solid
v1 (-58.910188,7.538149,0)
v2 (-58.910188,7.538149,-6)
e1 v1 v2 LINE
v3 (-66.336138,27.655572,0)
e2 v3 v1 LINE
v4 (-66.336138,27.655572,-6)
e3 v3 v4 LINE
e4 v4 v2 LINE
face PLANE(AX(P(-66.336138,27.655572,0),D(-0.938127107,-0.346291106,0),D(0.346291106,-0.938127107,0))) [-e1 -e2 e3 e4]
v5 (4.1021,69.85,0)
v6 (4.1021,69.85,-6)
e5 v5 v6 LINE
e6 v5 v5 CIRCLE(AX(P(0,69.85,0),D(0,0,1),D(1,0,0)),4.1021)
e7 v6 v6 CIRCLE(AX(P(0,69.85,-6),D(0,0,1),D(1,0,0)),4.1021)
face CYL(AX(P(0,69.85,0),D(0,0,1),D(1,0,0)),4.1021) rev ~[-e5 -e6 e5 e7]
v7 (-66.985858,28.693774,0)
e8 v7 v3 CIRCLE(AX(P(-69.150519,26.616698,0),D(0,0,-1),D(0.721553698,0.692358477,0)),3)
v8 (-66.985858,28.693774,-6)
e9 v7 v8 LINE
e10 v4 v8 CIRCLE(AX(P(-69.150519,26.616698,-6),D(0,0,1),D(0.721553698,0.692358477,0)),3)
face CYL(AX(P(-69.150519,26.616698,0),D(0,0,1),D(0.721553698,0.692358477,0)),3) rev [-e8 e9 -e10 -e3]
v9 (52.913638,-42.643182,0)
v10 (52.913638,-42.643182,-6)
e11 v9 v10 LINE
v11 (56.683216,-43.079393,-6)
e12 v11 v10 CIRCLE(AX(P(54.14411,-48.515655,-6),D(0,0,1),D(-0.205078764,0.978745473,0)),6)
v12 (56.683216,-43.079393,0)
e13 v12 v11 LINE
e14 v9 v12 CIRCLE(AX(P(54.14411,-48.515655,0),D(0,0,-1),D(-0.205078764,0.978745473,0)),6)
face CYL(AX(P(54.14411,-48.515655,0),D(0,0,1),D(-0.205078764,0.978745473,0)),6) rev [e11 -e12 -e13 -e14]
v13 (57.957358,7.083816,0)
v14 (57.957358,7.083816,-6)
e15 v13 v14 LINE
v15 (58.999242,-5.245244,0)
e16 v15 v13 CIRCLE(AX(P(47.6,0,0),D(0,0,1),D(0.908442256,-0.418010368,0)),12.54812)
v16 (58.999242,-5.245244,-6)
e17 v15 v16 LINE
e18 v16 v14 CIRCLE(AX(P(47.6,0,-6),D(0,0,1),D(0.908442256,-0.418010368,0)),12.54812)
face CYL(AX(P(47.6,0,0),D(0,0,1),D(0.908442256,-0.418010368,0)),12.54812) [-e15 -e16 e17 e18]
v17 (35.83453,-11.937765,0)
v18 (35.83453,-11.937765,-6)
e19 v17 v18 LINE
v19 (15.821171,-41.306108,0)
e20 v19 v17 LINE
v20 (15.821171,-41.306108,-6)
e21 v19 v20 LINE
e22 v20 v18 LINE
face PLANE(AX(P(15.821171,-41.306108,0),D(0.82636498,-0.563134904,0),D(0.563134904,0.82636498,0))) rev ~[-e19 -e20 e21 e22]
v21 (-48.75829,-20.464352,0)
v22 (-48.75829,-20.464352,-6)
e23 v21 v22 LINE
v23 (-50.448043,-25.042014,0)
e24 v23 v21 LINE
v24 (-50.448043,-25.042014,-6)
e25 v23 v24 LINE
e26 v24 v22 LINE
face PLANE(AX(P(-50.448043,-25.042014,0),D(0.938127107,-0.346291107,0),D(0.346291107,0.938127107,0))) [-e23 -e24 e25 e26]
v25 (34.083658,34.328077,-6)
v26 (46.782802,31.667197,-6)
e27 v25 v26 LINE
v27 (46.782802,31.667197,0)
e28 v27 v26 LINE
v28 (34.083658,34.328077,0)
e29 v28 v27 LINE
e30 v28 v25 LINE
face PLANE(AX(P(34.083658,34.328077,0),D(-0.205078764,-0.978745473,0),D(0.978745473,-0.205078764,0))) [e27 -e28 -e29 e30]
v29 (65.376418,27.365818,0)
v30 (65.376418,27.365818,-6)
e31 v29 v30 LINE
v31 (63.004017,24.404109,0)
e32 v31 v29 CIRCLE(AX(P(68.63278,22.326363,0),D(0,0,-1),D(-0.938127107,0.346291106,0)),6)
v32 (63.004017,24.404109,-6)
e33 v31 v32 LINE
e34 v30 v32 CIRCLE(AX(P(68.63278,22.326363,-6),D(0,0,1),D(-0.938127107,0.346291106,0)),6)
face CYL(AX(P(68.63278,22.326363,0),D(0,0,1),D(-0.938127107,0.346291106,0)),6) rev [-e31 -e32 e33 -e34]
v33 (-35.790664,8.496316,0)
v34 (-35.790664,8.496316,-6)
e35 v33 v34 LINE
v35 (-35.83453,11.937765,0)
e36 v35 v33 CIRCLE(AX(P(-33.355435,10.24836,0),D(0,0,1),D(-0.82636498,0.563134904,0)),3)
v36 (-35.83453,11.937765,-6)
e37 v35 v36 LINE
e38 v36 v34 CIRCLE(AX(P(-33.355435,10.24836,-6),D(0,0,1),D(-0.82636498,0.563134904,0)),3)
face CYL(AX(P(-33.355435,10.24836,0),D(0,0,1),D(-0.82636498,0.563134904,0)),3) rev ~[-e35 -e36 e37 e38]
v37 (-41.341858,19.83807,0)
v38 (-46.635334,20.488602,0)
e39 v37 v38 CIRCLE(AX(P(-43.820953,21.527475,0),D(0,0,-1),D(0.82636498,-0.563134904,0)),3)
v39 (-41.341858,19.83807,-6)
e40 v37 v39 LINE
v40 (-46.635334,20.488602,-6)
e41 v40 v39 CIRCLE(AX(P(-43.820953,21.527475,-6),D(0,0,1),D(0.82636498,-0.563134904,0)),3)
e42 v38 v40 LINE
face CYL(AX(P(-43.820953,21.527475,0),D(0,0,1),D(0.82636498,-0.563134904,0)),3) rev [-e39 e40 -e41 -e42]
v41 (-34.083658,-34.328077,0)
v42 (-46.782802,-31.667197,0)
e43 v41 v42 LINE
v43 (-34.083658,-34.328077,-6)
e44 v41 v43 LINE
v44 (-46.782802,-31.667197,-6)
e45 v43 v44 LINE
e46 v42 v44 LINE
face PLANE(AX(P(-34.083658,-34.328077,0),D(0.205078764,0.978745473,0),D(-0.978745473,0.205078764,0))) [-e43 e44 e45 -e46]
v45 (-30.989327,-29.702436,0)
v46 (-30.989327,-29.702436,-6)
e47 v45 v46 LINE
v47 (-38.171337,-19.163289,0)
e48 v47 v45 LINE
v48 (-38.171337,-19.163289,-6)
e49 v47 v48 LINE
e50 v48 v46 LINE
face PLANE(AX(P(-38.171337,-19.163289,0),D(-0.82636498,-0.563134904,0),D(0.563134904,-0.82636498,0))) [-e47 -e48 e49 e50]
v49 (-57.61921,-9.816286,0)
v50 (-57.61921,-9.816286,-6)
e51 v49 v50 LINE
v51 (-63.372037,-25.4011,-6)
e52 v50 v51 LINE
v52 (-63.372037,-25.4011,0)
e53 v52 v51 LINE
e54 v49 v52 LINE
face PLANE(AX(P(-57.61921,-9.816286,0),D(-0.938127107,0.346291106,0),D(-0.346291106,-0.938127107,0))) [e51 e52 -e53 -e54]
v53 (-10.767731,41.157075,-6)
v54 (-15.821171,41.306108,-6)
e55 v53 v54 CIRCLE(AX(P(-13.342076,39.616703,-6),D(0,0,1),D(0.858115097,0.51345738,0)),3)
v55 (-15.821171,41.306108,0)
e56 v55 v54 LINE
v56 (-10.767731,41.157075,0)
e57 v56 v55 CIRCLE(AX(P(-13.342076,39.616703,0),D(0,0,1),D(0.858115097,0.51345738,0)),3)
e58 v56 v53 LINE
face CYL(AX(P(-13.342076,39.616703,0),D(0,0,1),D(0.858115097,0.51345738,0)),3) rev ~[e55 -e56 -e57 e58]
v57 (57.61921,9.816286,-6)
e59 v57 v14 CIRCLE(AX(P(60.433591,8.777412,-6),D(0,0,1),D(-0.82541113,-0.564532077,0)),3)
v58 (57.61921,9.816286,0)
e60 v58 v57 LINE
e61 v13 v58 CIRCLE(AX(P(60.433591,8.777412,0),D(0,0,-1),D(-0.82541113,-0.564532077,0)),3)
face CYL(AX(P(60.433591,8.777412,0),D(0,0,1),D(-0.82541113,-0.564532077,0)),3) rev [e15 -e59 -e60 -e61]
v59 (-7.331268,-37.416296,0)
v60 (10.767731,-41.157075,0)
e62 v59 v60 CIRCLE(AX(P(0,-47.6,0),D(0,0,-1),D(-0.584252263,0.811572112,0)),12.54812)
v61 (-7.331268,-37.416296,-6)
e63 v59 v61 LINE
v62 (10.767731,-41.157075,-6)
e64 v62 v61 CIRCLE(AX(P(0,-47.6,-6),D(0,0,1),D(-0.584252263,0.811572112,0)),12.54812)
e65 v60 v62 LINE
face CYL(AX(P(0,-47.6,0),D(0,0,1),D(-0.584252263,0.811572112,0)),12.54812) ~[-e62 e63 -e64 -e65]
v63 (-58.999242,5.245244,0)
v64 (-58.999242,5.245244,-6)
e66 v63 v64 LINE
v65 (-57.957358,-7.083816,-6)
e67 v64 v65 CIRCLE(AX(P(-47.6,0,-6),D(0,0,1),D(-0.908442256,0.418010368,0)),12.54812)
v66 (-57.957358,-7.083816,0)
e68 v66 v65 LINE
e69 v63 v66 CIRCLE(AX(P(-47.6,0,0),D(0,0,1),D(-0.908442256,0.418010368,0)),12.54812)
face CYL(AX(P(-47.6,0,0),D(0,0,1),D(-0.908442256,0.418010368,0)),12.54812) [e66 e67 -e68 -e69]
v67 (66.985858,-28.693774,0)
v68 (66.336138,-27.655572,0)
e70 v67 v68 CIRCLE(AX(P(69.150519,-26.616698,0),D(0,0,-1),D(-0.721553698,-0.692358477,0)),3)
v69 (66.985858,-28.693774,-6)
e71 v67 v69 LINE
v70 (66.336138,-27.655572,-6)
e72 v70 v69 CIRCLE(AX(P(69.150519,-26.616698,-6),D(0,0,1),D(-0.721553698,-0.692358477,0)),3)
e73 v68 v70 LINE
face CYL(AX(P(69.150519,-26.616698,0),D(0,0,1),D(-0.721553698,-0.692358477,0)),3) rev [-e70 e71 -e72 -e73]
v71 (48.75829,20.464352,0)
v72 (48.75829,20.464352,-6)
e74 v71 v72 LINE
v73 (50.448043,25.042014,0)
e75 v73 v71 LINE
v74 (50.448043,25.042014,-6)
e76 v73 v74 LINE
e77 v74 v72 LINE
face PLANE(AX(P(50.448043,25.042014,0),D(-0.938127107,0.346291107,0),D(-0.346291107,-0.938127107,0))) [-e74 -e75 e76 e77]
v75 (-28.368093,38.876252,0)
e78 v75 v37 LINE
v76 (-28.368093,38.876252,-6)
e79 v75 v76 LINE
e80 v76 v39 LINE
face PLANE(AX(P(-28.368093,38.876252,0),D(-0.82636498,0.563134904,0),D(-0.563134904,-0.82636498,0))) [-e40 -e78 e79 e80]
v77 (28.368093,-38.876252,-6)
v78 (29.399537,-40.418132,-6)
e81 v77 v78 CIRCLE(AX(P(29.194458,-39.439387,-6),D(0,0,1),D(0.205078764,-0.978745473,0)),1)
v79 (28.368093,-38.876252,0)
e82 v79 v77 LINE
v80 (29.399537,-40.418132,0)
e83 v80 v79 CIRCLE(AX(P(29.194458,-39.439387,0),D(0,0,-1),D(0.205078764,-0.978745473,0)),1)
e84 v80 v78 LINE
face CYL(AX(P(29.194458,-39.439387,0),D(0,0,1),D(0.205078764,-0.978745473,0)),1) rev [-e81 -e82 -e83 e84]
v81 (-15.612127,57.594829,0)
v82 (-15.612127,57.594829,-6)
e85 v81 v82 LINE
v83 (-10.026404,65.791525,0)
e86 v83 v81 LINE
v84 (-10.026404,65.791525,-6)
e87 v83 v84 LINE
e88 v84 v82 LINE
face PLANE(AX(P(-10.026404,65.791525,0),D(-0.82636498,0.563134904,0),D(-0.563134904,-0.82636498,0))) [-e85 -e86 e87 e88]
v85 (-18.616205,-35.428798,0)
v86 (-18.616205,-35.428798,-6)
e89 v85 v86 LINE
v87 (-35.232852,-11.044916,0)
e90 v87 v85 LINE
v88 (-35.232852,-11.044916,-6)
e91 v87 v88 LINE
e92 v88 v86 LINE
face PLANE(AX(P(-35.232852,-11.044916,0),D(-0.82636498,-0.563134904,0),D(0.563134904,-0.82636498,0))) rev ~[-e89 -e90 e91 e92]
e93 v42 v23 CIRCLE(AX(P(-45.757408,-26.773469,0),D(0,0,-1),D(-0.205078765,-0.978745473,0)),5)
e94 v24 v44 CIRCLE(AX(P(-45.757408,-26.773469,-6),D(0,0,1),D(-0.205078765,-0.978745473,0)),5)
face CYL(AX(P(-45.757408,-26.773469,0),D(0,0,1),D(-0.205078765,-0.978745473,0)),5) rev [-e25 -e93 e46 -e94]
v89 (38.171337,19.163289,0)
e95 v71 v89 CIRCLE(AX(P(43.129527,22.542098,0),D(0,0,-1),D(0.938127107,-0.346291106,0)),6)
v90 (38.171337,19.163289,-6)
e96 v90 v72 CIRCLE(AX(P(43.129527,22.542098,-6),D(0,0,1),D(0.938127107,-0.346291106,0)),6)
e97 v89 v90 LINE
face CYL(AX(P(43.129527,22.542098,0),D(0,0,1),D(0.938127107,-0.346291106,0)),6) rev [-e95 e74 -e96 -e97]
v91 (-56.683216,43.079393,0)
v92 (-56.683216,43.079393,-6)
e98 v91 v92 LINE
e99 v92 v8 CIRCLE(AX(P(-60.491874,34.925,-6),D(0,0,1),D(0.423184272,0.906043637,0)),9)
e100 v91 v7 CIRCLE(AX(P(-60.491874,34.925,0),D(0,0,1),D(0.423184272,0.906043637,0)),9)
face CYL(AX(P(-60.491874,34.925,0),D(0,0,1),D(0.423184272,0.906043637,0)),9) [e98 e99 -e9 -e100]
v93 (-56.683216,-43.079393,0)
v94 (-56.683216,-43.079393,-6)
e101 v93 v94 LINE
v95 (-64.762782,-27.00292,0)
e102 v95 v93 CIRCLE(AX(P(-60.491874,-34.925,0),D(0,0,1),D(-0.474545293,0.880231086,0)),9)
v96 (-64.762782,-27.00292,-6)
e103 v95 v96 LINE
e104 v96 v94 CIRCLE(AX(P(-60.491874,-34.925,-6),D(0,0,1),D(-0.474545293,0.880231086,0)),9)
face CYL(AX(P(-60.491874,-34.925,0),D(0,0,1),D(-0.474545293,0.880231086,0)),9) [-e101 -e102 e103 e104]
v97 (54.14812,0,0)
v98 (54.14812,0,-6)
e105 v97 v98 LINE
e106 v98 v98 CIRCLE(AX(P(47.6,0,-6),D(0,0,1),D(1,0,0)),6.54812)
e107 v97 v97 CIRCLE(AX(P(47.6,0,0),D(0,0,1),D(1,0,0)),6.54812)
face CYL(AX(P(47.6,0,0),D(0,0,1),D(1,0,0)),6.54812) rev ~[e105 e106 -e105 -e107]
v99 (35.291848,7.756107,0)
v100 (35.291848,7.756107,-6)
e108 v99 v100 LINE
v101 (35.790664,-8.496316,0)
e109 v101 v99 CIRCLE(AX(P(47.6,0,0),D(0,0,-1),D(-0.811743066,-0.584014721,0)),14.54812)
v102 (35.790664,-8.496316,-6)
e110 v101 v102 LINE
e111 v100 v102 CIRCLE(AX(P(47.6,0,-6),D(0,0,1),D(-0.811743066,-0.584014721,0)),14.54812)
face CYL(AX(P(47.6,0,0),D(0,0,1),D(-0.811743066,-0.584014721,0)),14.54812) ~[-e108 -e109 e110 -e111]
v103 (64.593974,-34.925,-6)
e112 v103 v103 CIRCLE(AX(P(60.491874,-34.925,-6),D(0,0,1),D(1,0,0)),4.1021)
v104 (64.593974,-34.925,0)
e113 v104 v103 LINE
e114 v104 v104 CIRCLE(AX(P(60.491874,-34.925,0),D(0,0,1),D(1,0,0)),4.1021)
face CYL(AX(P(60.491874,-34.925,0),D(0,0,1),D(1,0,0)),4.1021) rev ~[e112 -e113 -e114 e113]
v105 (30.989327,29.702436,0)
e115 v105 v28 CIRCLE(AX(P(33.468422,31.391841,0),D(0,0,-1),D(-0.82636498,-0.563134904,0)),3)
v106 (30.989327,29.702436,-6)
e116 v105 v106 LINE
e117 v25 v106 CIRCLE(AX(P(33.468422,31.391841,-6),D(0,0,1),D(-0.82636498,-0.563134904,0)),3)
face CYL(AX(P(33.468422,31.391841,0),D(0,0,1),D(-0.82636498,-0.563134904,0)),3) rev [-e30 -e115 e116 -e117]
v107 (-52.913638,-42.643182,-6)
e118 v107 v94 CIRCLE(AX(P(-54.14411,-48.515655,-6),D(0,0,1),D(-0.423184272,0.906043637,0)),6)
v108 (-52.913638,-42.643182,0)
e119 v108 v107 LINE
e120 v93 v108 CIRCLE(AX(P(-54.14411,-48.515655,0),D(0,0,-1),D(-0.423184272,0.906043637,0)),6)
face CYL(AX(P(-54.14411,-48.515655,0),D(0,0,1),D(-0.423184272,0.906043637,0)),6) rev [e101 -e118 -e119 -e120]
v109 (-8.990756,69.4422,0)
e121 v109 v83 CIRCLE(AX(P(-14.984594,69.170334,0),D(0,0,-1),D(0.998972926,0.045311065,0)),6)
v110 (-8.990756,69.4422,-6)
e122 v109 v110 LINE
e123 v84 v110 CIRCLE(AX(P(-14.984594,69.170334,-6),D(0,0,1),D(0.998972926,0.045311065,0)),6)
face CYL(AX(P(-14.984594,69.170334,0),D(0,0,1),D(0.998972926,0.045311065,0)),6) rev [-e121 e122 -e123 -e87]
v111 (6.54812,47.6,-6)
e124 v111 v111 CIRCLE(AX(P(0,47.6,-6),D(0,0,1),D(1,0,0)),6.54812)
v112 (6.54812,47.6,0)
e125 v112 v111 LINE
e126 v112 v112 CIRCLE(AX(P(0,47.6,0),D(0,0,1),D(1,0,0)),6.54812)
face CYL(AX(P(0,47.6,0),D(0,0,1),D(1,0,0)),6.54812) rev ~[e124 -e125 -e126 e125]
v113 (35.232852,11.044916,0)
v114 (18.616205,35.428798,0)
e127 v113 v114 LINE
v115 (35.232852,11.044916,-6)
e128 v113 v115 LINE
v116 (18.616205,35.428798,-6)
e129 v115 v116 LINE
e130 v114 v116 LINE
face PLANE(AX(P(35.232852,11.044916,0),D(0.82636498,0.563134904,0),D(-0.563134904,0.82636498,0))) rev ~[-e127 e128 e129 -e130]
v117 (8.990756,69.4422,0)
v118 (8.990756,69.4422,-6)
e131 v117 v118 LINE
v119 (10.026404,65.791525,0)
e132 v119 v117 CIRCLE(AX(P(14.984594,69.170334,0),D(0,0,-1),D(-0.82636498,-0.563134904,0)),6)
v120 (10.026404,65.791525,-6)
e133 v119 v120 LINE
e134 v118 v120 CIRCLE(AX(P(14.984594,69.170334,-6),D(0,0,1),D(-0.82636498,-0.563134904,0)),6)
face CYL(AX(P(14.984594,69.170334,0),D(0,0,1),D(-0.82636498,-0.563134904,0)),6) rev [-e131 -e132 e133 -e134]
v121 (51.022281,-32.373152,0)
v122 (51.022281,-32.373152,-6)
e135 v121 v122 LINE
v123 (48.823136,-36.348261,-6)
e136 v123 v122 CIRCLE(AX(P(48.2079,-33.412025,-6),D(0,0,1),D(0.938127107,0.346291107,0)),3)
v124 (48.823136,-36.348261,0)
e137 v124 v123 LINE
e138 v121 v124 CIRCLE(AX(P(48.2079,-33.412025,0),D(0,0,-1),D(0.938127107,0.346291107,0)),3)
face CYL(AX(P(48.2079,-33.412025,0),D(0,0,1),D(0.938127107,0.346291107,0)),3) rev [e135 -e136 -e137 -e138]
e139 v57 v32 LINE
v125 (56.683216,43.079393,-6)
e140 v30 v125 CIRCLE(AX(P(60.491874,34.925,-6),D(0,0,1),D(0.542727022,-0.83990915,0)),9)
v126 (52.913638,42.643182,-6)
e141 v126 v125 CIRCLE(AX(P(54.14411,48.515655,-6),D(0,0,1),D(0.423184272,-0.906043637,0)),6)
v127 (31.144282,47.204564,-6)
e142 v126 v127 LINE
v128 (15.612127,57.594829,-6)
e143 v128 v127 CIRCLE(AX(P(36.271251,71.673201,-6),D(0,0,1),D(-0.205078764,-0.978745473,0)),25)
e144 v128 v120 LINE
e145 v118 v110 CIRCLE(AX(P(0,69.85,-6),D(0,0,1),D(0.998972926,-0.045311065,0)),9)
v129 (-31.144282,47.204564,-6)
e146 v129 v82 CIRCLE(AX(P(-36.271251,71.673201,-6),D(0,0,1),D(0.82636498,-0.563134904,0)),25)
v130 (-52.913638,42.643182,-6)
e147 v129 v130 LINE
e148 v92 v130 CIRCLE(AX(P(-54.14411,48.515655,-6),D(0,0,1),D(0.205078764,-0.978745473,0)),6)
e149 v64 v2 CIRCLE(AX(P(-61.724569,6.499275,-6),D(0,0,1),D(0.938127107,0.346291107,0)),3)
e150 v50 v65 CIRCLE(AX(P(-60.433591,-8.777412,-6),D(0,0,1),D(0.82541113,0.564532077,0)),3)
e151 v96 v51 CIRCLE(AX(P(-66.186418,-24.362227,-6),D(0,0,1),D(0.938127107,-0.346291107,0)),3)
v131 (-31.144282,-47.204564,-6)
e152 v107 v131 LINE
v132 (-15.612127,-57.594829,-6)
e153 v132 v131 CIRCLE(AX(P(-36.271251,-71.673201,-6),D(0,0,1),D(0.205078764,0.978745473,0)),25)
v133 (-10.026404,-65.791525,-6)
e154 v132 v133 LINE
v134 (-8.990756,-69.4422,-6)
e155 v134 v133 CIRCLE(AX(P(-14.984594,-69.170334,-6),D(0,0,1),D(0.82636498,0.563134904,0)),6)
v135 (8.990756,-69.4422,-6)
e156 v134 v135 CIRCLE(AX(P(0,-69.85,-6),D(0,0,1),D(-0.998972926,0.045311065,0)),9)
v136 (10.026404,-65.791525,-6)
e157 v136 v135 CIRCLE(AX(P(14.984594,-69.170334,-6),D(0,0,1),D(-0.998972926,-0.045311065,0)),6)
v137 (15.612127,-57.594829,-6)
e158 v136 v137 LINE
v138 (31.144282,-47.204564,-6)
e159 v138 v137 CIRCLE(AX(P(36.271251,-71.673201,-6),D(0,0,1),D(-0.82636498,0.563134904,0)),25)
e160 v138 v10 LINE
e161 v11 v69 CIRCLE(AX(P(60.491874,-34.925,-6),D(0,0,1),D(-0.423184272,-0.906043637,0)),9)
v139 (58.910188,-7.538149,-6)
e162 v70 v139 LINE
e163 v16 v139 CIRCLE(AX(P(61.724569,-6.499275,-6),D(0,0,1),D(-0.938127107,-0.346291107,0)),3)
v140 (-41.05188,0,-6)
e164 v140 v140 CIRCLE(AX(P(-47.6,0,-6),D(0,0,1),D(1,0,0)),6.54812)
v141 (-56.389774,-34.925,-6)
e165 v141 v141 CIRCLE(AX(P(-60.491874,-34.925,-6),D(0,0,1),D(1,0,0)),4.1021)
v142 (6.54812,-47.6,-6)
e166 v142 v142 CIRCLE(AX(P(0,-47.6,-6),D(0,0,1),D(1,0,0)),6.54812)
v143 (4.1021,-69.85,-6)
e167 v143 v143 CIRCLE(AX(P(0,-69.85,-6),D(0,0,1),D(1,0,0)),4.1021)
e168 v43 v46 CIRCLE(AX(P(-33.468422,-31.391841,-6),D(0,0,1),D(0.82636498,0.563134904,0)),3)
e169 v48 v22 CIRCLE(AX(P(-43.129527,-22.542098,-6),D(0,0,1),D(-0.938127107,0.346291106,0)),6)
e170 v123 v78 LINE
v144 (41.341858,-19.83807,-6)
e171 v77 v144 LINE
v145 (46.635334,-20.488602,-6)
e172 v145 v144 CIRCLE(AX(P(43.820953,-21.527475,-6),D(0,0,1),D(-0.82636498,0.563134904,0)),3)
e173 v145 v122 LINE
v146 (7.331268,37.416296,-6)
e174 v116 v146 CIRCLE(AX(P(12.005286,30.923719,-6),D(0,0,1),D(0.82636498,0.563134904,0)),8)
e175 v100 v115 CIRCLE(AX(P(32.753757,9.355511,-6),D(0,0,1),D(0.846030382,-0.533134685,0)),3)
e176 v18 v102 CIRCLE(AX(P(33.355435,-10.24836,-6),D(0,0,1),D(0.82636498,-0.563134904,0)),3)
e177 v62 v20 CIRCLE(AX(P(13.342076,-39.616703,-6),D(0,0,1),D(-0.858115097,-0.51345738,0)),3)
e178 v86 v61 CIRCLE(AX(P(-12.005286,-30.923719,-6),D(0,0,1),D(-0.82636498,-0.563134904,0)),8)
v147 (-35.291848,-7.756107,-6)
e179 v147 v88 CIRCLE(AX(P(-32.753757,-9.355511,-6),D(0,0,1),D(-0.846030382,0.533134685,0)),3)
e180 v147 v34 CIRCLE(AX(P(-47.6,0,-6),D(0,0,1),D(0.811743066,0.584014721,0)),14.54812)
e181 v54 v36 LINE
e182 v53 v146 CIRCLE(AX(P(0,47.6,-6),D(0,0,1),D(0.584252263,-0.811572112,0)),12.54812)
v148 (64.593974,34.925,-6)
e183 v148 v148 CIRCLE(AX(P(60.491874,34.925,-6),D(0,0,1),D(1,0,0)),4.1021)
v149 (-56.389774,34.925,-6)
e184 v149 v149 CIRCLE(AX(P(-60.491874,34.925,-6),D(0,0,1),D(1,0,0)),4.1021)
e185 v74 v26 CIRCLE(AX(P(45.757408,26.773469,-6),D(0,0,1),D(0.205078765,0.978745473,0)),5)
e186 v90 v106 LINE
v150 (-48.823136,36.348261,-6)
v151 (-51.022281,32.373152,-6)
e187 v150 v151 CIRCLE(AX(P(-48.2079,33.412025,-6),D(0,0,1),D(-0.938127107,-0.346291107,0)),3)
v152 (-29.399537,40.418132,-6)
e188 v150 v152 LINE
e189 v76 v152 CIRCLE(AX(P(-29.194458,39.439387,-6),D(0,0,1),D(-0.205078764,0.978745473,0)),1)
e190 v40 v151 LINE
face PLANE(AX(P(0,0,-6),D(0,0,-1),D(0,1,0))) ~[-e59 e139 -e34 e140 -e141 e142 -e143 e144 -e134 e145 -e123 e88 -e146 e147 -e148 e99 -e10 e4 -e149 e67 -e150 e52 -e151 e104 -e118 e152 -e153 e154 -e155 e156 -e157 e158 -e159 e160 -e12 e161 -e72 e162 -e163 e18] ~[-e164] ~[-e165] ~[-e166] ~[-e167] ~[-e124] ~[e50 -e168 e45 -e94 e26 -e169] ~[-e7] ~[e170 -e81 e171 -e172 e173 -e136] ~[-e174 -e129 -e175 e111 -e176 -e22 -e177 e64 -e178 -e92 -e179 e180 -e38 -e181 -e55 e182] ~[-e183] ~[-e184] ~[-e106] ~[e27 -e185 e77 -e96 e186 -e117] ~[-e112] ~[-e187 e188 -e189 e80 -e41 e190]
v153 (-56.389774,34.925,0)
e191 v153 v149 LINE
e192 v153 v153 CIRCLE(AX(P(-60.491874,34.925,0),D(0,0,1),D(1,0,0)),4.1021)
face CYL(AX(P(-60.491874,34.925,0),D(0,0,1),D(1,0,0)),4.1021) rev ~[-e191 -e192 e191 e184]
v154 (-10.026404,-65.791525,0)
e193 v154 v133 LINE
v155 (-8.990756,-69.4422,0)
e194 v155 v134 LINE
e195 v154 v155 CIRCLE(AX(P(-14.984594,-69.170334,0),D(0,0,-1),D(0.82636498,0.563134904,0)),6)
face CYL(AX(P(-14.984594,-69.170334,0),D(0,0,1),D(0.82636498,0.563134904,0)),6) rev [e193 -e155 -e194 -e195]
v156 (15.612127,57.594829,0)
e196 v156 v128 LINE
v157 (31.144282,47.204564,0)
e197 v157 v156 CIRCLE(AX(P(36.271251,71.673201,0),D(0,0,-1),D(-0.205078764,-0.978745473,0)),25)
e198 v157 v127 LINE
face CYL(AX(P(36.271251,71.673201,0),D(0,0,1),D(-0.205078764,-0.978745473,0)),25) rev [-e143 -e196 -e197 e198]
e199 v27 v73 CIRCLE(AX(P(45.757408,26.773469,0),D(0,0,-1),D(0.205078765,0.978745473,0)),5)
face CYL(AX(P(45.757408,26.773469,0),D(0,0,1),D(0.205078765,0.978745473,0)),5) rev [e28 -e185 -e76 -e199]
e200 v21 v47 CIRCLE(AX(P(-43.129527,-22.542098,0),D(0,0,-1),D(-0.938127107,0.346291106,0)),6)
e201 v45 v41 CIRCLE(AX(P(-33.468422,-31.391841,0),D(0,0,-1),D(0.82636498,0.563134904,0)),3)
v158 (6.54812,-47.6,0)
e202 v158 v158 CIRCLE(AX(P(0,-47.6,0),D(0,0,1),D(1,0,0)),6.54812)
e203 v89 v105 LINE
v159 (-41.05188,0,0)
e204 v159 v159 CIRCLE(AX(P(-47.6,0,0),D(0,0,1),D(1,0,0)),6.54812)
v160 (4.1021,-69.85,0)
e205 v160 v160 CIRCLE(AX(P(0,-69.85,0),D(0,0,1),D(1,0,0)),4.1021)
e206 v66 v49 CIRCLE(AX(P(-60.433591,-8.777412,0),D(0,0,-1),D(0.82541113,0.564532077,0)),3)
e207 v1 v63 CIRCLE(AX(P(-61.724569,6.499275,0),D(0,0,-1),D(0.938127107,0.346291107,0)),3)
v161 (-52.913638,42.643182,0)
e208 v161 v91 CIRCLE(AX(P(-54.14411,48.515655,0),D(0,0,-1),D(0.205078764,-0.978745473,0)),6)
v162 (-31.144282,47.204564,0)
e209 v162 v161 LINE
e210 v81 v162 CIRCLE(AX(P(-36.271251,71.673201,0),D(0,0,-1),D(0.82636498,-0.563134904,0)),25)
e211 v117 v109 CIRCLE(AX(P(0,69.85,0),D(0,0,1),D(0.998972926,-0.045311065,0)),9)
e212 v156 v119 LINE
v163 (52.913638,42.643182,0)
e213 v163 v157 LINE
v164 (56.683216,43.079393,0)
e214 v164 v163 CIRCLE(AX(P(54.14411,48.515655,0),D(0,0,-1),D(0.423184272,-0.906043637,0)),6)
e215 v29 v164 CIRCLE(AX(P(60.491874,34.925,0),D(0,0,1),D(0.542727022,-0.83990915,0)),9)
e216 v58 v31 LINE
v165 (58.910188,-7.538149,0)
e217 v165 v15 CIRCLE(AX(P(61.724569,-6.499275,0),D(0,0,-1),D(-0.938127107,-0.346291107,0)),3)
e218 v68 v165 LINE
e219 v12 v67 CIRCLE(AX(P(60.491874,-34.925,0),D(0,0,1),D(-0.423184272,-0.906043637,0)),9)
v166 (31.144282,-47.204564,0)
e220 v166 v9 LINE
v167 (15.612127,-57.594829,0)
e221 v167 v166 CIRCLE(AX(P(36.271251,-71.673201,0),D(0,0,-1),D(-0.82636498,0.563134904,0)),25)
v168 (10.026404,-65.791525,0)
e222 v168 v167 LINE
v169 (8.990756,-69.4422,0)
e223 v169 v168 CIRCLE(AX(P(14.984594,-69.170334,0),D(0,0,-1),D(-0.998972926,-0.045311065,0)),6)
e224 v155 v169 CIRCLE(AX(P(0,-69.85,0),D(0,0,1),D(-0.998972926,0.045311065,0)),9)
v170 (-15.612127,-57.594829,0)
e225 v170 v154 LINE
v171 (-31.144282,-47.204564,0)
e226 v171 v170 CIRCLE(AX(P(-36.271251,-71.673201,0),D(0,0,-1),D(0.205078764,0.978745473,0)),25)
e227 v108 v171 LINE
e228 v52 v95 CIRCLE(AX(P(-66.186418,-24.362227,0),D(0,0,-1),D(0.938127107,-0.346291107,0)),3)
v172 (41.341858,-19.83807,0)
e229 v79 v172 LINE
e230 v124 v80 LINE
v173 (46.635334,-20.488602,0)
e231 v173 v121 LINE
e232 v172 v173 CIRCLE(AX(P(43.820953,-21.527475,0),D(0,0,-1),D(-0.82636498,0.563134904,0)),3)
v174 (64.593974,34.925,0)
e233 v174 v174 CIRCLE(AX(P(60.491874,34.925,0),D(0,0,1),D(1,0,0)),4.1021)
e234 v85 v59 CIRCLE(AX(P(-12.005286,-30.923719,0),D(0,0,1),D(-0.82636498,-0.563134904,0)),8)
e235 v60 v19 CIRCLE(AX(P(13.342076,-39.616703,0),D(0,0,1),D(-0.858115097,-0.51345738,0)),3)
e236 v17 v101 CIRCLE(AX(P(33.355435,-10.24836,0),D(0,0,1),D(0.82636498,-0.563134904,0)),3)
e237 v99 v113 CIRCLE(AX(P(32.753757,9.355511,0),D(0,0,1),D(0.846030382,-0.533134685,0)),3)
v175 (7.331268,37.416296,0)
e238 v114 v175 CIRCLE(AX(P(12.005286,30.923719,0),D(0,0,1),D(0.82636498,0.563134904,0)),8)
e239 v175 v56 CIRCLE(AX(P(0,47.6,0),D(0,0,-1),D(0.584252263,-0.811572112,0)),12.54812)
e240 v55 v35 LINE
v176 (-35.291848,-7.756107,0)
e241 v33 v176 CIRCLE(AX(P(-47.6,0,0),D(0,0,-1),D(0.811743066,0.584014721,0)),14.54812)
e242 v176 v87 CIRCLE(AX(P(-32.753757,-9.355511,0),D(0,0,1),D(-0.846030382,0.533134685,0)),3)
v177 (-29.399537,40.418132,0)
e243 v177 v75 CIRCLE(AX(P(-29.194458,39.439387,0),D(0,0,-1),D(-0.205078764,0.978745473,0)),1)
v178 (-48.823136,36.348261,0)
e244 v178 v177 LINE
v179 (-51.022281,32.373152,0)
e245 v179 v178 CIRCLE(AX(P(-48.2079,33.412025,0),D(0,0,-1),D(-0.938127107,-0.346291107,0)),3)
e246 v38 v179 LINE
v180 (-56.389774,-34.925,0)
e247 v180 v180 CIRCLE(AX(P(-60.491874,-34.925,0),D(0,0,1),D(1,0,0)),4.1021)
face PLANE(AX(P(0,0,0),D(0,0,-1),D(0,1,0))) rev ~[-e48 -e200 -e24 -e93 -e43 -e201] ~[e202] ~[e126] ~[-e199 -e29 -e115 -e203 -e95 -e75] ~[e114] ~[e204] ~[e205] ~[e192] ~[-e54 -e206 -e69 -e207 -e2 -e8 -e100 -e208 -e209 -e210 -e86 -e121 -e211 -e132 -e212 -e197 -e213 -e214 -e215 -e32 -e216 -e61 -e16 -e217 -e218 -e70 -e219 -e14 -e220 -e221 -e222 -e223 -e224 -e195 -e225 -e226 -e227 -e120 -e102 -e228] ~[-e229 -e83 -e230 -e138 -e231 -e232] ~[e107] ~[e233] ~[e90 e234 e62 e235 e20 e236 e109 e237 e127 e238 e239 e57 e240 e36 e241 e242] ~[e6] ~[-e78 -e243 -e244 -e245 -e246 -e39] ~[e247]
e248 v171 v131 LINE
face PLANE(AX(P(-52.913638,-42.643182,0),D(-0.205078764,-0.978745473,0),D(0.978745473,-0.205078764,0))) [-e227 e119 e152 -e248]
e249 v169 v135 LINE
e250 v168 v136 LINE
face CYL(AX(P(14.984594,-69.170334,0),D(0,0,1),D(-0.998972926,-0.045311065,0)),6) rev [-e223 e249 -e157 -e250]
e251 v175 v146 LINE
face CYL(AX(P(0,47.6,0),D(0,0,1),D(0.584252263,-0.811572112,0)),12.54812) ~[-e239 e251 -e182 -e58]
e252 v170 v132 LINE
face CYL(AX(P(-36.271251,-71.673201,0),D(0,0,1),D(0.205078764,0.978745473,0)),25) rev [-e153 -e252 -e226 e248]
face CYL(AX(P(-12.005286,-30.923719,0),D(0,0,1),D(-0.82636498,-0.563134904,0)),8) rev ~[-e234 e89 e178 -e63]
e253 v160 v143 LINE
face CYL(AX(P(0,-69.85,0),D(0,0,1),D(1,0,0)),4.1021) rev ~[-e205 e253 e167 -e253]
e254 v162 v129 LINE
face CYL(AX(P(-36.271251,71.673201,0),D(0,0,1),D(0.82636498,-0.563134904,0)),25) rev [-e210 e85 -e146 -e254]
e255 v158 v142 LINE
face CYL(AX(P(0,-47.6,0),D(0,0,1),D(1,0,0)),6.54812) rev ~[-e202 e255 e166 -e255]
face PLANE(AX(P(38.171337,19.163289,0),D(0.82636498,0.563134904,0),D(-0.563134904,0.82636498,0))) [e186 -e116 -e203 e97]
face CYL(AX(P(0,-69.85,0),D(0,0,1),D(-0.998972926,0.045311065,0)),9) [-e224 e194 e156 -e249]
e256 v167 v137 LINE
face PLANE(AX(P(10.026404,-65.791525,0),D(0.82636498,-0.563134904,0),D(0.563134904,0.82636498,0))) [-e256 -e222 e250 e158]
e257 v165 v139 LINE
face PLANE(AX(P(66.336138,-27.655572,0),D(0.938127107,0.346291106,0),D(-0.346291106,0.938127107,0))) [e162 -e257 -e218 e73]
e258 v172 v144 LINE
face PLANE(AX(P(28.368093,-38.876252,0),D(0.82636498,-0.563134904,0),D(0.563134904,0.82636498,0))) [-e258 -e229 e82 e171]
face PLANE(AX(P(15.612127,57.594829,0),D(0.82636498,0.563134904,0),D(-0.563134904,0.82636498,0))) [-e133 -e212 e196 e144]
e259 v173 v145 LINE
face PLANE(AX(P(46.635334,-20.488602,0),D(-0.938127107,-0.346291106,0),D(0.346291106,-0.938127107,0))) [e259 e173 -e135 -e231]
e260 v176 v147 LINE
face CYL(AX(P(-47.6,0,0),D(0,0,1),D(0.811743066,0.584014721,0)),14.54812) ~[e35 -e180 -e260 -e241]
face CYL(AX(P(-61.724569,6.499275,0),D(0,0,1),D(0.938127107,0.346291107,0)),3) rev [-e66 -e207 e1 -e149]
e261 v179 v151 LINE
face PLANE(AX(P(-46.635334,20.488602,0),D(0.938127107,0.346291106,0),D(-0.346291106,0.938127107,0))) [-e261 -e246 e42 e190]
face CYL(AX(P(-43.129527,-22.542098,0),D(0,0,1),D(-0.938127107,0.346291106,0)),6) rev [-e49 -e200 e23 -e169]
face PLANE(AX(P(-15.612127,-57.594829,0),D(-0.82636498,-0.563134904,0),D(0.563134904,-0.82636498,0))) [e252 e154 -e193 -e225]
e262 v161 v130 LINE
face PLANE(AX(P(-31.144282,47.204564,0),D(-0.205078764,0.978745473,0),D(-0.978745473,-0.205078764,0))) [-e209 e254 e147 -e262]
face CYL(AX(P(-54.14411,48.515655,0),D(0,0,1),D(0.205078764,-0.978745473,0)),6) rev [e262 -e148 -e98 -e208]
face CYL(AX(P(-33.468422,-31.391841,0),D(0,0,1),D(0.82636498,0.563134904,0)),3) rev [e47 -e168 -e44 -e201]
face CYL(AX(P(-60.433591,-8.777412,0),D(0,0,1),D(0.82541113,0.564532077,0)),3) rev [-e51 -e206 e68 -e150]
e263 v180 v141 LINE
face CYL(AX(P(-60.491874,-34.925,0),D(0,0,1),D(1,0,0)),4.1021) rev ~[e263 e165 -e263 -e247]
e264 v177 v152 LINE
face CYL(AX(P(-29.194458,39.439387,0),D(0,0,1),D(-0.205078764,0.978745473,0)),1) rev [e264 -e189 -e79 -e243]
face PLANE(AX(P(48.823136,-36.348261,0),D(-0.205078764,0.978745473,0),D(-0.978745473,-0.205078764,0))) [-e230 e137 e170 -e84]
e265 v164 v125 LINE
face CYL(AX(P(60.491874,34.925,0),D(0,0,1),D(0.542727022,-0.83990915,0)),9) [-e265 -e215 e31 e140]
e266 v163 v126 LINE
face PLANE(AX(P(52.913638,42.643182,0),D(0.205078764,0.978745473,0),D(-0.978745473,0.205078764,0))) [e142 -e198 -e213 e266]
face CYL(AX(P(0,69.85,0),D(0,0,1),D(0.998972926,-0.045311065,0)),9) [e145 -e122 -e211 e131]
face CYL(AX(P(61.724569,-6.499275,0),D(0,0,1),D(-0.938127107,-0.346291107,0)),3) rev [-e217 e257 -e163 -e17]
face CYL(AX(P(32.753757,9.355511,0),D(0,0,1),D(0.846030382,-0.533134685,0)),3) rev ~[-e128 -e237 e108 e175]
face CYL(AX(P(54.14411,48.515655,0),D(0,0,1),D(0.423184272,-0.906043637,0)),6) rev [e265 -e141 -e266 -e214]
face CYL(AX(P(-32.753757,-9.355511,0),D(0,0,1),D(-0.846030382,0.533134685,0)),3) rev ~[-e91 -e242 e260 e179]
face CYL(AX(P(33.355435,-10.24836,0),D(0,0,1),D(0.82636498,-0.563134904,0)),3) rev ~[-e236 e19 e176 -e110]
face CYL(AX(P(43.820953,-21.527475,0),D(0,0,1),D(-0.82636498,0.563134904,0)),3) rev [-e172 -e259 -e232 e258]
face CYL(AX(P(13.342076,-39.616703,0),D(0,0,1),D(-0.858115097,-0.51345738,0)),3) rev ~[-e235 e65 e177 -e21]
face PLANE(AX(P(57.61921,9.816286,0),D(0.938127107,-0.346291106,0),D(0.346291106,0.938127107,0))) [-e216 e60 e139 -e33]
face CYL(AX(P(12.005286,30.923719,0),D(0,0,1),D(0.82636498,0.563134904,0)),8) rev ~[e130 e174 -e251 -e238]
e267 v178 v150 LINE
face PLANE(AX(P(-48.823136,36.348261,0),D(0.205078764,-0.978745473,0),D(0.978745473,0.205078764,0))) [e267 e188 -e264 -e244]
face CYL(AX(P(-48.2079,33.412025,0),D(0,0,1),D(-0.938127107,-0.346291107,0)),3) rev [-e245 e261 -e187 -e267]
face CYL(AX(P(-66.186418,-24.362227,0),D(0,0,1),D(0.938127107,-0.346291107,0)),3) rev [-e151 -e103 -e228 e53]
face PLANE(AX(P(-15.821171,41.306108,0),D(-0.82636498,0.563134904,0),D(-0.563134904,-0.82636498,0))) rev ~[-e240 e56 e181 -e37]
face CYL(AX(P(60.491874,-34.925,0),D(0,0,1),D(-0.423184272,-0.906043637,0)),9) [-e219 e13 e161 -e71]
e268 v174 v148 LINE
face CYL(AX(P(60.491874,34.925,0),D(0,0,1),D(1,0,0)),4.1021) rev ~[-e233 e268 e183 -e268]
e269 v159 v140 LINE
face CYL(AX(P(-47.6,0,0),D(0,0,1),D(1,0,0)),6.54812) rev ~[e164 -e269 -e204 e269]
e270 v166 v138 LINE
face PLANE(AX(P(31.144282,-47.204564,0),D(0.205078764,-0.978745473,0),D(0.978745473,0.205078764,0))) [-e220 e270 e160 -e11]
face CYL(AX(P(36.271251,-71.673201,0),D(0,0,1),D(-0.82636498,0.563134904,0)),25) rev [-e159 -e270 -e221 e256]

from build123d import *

# Parameters (mm, degrees)
CHAMFER1_SIZE                  = 2
SKETCH3_R                      = 4.1021
CUT_EXTRUDE2_DEPTH             = 112.883868364
SKETCH5_R                      = 6.54812
CUT_EXTRUDE3_DEPTH             = 112.883868364
SKETCH10_OUTSIDE_W             = 204.706
SKETCH10_OUTSIDE_H             = 204.706
CUT_EXTRUDELIGHTENSPIDER_DEPTH = 112.883868364


with BuildPart() as part:
    # Sketch1 → Revolve1 (revolve)
    with BuildSketch(Plane(origin=(0, 0, 0), x_dir=(0, 0, -1), z_dir=(1, 0, 0))):
        Polygon((2, 79), (6, 79), (6, 58.75), (6, 30.4), (0, 30.4), (0, 60.4), (0, 79), align=None)
    revolve(axis=Axis((0, 0, 42.402729345), (0, 0, -1)))

    # Chamfer1
    chamfer1_edges = [part.edges().sort_by_distance(p)[0] for p in [
        (0, -30.4, 0),
    ]]
    chamfer(chamfer1_edges, length=CHAMFER1_SIZE)

    # Sketch3 → Cut-Extrude2 (cut, through all)
    with BuildSketch(Plane.XY):
        with Locations((0, 69.85)):
            Circle(SKETCH3_R)
        with Locations((60.491874454, 34.925)):
            Circle(SKETCH3_R)
        with Locations((60.491874454, -34.925)):
            Circle(SKETCH3_R)
        with Locations((0, -69.85)):
            Circle(SKETCH3_R)
        with Locations((-60.491874454, -34.925)):
            Circle(SKETCH3_R)
        with Locations((-60.491874454, 34.925)):
            Circle(SKETCH3_R)
    extrude(amount=-CUT_EXTRUDE2_DEPTH, mode=Mode.SUBTRACT)

    # Sketch5 → Cut-Extrude3 (cut, through all)
    with BuildSketch(Plane.XY):
        with Locations((0, 47.6)):
            Circle(SKETCH5_R)
        with Locations((47.6, 0)):
            Circle(SKETCH5_R)
        with Locations((0, -47.6)):
            Circle(SKETCH5_R)
        with Locations((-47.6, 0)):
            Circle(SKETCH5_R)
    extrude(amount=-CUT_EXTRUDE3_DEPTH, mode=Mode.SUBTRACT)

    # Sketch10 outside → Cut-ExtrudeLightenSpider (cut, through all)
    # profile 1 of 6: a face of its own
    with BuildSketch(Plane.XY):
        Rectangle(SKETCH10_OUTSIDE_W, SKETCH10_OUTSIDE_H)
        with BuildLine():
            Line((-10.026404015, 65.791524605), (-15.612126757, 57.594828522))
            ThreePointArc((-15.612126757, 57.594828522), (-22.370889622, 50.893885768), (-31.144282145, 47.204564302))
            Line((-31.144282145, 47.204564302), (-52.913637786, 42.643181716))
            ThreePointArc((-52.913637786, 42.643181716), (-54.833820547, 42.555428057), (-56.683216005, 43.079392731))
            ThreePointArc((-56.683216005, 43.079392731), (-67.808926528, 40.165300464), (-66.985857737, 28.693773706))
            ThreePointArc((-66.985857737, 28.693773706), (-66.607453407, 28.208181309), (-66.336137509, 27.655571594))
            Line((-66.336137509, 27.655571594), (-58.910187887, 7.538148679))
            ThreePointArc((-58.910187887, 7.538148679), (-58.726829376, 6.382845568), (-58.999242441, 5.245244256))
            ThreePointArc((-58.999242441, 5.245244256), (-60.103553413, -1.056630301), (-57.957357907, -7.083816253))
            ThreePointArc((-57.957357907, -7.083816253), (-57.456302519, -8.408967742), (-57.619209975, -9.816285805))
            Line((-57.619209975, -9.816285805), (-63.372036652, -25.401100289))
            ThreePointArc((-63.372036652, -25.401100289), (-63.921102493, -26.329038035), (-64.762782095, -27.002920227))
            ThreePointArc((-64.762782095, -27.002920227), (-68.5334328, -38.966452632), (-56.683216005, -43.079392731))
            ThreePointArc((-56.683216005, -43.079392731), (-54.833820547, -42.555428057), (-52.913637786, -42.643181716))
            Line((-52.913637786, -42.643181716), (-31.144282145, -47.204564302))
            ThreePointArc((-31.144282145, -47.204564302), (-22.370889622, -50.893885768), (-15.612126757, -57.594828522))
            Line((-15.612126757, -57.594828522), (-10.026404015, -65.791524605))
            ThreePointArc((-10.026404015, -65.791524605), (-9.212368611, -67.53283127), (-8.990756336, -69.442200417))
            ThreePointArc((-8.990756336, -69.442200417), (0, -78.85), (8.990756336, -69.442200417))
            ThreePointArc((8.990756336, -69.442200417), (9.212368611, -67.53283127), (10.026404015, -65.791524605))
            Line((10.026404015, -65.791524605), (15.612126757, -57.594828522))
            ThreePointArc((15.612126757, -57.594828522), (22.370889622, -50.893885768), (31.144282145, -47.204564302))
            Line((31.144282145, -47.204564302), (52.913637786, -42.643181716))
            ThreePointArc((52.913637786, -42.643181716), (54.833820547, -42.555428057), (56.683216005, -43.079392731))
            ThreePointArc((56.683216005, -43.079392731), (67.808926528, -40.165300464), (66.985857737, -28.693773706))
            ThreePointArc((66.985857737, -28.693773706), (66.607453407, -28.208181309), (66.336137509, -27.655571594))
            Line((66.336137509, -27.655571594), (58.910187887, -7.538148679))
            ThreePointArc((58.910187887, -7.538148679), (58.726829376, -6.382845568), (58.999242441, -5.245244256))
            ThreePointArc((58.999242441, -5.245244256), (60.103553413, 1.056630301), (57.957357907, 7.083816253))
            ThreePointArc((57.957357907, 7.083816253), (57.456302519, 8.408967742), (57.619209975, 9.816285805))
            Line((57.619209975, 9.816285805), (63.004017141, 24.404109395))
            ThreePointArc((63.004017141, 24.404109395), (63.949907854, 26.077457327), (65.376417653, 27.365817654))
            ThreePointArc((65.376417653, 27.365817654), (68.367056511, 39.2817772), (56.683216005, 43.079392731))
            ThreePointArc((56.683216005, 43.079392731), (54.833820547, 42.555428057), (52.913637786, 42.643181716))
            Line((52.913637786, 42.643181716), (31.144282145, 47.204564302))
            ThreePointArc((31.144282145, 47.204564302), (22.370889622, 50.893885768), (15.612126757, 57.594828522))
            Line((15.612126757, 57.594828522), (10.026404015, 65.791524605))
            ThreePointArc((10.026404015, 65.791524605), (9.212368611, 67.53283127), (8.990756336, 69.442200417))
            ThreePointArc((8.990756336, 69.442200417), (0, 78.85), (-8.990756336, 69.442200417))
            ThreePointArc((-8.990756336, 69.442200417), (-9.212368611, 67.53283127), (-10.026404015, 65.791524605))
        make_face(mode=Mode.SUBTRACT)
    # profile 2 of 6: a face of its own
    with BuildSketch(Plane.XY):
        with BuildLine():
            Line((-38.171337153, -19.163288775), (-30.989327096, -29.702435886))
            ThreePointArc((-30.989327096, -29.702435886), (-30.974904193, -33.059883994), (-34.083658328, -34.328077016))
            Line((-34.083658328, -34.328077016), (-46.782801613, -31.667196649))
            ThreePointArc((-46.782801613, -31.667196649), (-50.132508933, -29.193901063), (-50.448043328, -25.042013753))
            Line((-50.448043328, -25.042013753), (-48.758289676, -20.464351561))
            ThreePointArc((-48.758289676, -20.464351561), (-43.861379511, -16.586899466), (-38.171337153, -19.163288775))
        make_face()
    # profile 3 of 6: a face of its own
    with BuildSketch(Plane.XY):
        with BuildLine():
            Line((-48.823135839, 36.348261242), (-29.399536951, 40.418132082))
            ThreePointArc((-29.399536951, 40.418132082), (-28.363285572, 39.995401074), (-28.368093206, 38.876251705))
            Line((-28.368093206, 38.876251705), (-41.341857561, 19.838070188))
            ThreePointArc((-41.341857561, 19.838070188), (-44.186878741, 18.549875534), (-46.635333823, 20.488601581))
            Line((-46.635333823, 20.488601581), (-51.022280868, 32.373151504))
            ThreePointArc((-51.022280868, 32.373151504), (-50.832960232, 34.86428389), (-48.823135839, 36.348261242))
        make_face()
    # profile 4 of 6: a face of its own
    with BuildSketch(Plane.XY):
        with BuildLine():
            Line((46.635333823, -20.488601581), (51.022280868, -32.373151504))
            ThreePointArc((51.022280868, -32.373151504), (50.832960232, -34.86428389), (48.823135839, -36.348261242))
            Line((48.823135839, -36.348261242), (29.399536951, -40.418132082))
            ThreePointArc((29.399536951, -40.418132082), (28.363285572, -39.995401074), (28.368093206, -38.876251705))
            Line((28.368093206, -38.876251705), (41.341857561, -19.838070188))
            ThreePointArc((41.341857561, -19.838070188), (44.186878741, -18.549875534), (46.635333823, -20.488601581))
        make_face()
    # profile 5 of 6: a face of its own
    with BuildSketch(Plane.XY):
        with BuildLine():
            Line((34.083658328, 34.328077016), (46.782801613, 31.667196649))
            ThreePointArc((46.782801613, 31.667196649), (50.132508933, 29.193901063), (50.448043328, 25.042013753))
            Line((50.448043328, 25.042013753), (48.758289676, 20.464351561))
            ThreePointArc((48.758289676, 20.464351561), (43.861379511, 16.586899466), (38.171337153, 19.163288775))
            Line((38.171337153, 19.163288775), (30.989327096, 29.702435886))
            ThreePointArc((30.989327096, 29.702435886), (30.974904193, 33.059883994), (34.083658328, 34.328077016))
        make_face()
    # profile 6 of 6: a face of its own
    with BuildSketch(Plane.XY):
        with BuildLine():
            Line((-15.821171438, 41.306107758), (-35.834530202, 11.937765116))
            ThreePointArc((-35.834530202, 11.937765116), (-36.35519159, 10.21012461), (-35.790664462, 8.496316242))
            ThreePointArc((-35.790664462, 8.496316242), (-33.058727226, 0.446297704), (-35.291848474, -7.756107371))
            ThreePointArc((-35.291848474, -7.756107371), (-35.75327476, -9.409318188), (-35.232852266, -11.044916137))
            Line((-35.232852266, -11.044916137), (-18.616205445, -35.42879808))
            ThreePointArc((-18.616205445, -35.42879808), (-13.39288563, -38.802460256), (-7.331267504, -37.416295746))
            ThreePointArc((-7.331267504, -37.416295746), (2.539818576, -35.311605592), (10.767731208, -41.157075185))
            ThreePointArc((10.767731208, -41.157075185), (13.253641017, -42.61539929), (15.821171438, -41.306107758))
            Line((15.821171438, -41.306107758), (35.834530202, -11.937765117))
            ThreePointArc((35.834530202, -11.937765117), (36.35519159, -10.21012461), (35.790664462, -8.496316242))
            ThreePointArc((35.790664462, -8.496316242), (33.058727226, -0.446297704), (35.291848474, 7.756107371))
            ThreePointArc((35.291848474, 7.756107371), (35.75327476, 9.409318188), (35.232852266, 11.044916137))
            Line((35.232852266, 11.044916137), (18.616205445, 35.42879808))
            ThreePointArc((18.616205445, 35.42879808), (13.39288563, 38.802460256), (7.331267504, 37.416295746))
            ThreePointArc((7.331267504, 37.416295746), (-2.539818576, 35.311605592), (-10.767731208, 41.157075185))
            ThreePointArc((-10.767731208, 41.157075185), (-13.253641017, 42.61539929), (-15.821171438, 41.306107758))
        make_face()
    extrude(amount=-CUT_EXTRUDELIGHTENSPIDER_DEPTH, mode=Mode.SUBTRACT)


solid = part.part
